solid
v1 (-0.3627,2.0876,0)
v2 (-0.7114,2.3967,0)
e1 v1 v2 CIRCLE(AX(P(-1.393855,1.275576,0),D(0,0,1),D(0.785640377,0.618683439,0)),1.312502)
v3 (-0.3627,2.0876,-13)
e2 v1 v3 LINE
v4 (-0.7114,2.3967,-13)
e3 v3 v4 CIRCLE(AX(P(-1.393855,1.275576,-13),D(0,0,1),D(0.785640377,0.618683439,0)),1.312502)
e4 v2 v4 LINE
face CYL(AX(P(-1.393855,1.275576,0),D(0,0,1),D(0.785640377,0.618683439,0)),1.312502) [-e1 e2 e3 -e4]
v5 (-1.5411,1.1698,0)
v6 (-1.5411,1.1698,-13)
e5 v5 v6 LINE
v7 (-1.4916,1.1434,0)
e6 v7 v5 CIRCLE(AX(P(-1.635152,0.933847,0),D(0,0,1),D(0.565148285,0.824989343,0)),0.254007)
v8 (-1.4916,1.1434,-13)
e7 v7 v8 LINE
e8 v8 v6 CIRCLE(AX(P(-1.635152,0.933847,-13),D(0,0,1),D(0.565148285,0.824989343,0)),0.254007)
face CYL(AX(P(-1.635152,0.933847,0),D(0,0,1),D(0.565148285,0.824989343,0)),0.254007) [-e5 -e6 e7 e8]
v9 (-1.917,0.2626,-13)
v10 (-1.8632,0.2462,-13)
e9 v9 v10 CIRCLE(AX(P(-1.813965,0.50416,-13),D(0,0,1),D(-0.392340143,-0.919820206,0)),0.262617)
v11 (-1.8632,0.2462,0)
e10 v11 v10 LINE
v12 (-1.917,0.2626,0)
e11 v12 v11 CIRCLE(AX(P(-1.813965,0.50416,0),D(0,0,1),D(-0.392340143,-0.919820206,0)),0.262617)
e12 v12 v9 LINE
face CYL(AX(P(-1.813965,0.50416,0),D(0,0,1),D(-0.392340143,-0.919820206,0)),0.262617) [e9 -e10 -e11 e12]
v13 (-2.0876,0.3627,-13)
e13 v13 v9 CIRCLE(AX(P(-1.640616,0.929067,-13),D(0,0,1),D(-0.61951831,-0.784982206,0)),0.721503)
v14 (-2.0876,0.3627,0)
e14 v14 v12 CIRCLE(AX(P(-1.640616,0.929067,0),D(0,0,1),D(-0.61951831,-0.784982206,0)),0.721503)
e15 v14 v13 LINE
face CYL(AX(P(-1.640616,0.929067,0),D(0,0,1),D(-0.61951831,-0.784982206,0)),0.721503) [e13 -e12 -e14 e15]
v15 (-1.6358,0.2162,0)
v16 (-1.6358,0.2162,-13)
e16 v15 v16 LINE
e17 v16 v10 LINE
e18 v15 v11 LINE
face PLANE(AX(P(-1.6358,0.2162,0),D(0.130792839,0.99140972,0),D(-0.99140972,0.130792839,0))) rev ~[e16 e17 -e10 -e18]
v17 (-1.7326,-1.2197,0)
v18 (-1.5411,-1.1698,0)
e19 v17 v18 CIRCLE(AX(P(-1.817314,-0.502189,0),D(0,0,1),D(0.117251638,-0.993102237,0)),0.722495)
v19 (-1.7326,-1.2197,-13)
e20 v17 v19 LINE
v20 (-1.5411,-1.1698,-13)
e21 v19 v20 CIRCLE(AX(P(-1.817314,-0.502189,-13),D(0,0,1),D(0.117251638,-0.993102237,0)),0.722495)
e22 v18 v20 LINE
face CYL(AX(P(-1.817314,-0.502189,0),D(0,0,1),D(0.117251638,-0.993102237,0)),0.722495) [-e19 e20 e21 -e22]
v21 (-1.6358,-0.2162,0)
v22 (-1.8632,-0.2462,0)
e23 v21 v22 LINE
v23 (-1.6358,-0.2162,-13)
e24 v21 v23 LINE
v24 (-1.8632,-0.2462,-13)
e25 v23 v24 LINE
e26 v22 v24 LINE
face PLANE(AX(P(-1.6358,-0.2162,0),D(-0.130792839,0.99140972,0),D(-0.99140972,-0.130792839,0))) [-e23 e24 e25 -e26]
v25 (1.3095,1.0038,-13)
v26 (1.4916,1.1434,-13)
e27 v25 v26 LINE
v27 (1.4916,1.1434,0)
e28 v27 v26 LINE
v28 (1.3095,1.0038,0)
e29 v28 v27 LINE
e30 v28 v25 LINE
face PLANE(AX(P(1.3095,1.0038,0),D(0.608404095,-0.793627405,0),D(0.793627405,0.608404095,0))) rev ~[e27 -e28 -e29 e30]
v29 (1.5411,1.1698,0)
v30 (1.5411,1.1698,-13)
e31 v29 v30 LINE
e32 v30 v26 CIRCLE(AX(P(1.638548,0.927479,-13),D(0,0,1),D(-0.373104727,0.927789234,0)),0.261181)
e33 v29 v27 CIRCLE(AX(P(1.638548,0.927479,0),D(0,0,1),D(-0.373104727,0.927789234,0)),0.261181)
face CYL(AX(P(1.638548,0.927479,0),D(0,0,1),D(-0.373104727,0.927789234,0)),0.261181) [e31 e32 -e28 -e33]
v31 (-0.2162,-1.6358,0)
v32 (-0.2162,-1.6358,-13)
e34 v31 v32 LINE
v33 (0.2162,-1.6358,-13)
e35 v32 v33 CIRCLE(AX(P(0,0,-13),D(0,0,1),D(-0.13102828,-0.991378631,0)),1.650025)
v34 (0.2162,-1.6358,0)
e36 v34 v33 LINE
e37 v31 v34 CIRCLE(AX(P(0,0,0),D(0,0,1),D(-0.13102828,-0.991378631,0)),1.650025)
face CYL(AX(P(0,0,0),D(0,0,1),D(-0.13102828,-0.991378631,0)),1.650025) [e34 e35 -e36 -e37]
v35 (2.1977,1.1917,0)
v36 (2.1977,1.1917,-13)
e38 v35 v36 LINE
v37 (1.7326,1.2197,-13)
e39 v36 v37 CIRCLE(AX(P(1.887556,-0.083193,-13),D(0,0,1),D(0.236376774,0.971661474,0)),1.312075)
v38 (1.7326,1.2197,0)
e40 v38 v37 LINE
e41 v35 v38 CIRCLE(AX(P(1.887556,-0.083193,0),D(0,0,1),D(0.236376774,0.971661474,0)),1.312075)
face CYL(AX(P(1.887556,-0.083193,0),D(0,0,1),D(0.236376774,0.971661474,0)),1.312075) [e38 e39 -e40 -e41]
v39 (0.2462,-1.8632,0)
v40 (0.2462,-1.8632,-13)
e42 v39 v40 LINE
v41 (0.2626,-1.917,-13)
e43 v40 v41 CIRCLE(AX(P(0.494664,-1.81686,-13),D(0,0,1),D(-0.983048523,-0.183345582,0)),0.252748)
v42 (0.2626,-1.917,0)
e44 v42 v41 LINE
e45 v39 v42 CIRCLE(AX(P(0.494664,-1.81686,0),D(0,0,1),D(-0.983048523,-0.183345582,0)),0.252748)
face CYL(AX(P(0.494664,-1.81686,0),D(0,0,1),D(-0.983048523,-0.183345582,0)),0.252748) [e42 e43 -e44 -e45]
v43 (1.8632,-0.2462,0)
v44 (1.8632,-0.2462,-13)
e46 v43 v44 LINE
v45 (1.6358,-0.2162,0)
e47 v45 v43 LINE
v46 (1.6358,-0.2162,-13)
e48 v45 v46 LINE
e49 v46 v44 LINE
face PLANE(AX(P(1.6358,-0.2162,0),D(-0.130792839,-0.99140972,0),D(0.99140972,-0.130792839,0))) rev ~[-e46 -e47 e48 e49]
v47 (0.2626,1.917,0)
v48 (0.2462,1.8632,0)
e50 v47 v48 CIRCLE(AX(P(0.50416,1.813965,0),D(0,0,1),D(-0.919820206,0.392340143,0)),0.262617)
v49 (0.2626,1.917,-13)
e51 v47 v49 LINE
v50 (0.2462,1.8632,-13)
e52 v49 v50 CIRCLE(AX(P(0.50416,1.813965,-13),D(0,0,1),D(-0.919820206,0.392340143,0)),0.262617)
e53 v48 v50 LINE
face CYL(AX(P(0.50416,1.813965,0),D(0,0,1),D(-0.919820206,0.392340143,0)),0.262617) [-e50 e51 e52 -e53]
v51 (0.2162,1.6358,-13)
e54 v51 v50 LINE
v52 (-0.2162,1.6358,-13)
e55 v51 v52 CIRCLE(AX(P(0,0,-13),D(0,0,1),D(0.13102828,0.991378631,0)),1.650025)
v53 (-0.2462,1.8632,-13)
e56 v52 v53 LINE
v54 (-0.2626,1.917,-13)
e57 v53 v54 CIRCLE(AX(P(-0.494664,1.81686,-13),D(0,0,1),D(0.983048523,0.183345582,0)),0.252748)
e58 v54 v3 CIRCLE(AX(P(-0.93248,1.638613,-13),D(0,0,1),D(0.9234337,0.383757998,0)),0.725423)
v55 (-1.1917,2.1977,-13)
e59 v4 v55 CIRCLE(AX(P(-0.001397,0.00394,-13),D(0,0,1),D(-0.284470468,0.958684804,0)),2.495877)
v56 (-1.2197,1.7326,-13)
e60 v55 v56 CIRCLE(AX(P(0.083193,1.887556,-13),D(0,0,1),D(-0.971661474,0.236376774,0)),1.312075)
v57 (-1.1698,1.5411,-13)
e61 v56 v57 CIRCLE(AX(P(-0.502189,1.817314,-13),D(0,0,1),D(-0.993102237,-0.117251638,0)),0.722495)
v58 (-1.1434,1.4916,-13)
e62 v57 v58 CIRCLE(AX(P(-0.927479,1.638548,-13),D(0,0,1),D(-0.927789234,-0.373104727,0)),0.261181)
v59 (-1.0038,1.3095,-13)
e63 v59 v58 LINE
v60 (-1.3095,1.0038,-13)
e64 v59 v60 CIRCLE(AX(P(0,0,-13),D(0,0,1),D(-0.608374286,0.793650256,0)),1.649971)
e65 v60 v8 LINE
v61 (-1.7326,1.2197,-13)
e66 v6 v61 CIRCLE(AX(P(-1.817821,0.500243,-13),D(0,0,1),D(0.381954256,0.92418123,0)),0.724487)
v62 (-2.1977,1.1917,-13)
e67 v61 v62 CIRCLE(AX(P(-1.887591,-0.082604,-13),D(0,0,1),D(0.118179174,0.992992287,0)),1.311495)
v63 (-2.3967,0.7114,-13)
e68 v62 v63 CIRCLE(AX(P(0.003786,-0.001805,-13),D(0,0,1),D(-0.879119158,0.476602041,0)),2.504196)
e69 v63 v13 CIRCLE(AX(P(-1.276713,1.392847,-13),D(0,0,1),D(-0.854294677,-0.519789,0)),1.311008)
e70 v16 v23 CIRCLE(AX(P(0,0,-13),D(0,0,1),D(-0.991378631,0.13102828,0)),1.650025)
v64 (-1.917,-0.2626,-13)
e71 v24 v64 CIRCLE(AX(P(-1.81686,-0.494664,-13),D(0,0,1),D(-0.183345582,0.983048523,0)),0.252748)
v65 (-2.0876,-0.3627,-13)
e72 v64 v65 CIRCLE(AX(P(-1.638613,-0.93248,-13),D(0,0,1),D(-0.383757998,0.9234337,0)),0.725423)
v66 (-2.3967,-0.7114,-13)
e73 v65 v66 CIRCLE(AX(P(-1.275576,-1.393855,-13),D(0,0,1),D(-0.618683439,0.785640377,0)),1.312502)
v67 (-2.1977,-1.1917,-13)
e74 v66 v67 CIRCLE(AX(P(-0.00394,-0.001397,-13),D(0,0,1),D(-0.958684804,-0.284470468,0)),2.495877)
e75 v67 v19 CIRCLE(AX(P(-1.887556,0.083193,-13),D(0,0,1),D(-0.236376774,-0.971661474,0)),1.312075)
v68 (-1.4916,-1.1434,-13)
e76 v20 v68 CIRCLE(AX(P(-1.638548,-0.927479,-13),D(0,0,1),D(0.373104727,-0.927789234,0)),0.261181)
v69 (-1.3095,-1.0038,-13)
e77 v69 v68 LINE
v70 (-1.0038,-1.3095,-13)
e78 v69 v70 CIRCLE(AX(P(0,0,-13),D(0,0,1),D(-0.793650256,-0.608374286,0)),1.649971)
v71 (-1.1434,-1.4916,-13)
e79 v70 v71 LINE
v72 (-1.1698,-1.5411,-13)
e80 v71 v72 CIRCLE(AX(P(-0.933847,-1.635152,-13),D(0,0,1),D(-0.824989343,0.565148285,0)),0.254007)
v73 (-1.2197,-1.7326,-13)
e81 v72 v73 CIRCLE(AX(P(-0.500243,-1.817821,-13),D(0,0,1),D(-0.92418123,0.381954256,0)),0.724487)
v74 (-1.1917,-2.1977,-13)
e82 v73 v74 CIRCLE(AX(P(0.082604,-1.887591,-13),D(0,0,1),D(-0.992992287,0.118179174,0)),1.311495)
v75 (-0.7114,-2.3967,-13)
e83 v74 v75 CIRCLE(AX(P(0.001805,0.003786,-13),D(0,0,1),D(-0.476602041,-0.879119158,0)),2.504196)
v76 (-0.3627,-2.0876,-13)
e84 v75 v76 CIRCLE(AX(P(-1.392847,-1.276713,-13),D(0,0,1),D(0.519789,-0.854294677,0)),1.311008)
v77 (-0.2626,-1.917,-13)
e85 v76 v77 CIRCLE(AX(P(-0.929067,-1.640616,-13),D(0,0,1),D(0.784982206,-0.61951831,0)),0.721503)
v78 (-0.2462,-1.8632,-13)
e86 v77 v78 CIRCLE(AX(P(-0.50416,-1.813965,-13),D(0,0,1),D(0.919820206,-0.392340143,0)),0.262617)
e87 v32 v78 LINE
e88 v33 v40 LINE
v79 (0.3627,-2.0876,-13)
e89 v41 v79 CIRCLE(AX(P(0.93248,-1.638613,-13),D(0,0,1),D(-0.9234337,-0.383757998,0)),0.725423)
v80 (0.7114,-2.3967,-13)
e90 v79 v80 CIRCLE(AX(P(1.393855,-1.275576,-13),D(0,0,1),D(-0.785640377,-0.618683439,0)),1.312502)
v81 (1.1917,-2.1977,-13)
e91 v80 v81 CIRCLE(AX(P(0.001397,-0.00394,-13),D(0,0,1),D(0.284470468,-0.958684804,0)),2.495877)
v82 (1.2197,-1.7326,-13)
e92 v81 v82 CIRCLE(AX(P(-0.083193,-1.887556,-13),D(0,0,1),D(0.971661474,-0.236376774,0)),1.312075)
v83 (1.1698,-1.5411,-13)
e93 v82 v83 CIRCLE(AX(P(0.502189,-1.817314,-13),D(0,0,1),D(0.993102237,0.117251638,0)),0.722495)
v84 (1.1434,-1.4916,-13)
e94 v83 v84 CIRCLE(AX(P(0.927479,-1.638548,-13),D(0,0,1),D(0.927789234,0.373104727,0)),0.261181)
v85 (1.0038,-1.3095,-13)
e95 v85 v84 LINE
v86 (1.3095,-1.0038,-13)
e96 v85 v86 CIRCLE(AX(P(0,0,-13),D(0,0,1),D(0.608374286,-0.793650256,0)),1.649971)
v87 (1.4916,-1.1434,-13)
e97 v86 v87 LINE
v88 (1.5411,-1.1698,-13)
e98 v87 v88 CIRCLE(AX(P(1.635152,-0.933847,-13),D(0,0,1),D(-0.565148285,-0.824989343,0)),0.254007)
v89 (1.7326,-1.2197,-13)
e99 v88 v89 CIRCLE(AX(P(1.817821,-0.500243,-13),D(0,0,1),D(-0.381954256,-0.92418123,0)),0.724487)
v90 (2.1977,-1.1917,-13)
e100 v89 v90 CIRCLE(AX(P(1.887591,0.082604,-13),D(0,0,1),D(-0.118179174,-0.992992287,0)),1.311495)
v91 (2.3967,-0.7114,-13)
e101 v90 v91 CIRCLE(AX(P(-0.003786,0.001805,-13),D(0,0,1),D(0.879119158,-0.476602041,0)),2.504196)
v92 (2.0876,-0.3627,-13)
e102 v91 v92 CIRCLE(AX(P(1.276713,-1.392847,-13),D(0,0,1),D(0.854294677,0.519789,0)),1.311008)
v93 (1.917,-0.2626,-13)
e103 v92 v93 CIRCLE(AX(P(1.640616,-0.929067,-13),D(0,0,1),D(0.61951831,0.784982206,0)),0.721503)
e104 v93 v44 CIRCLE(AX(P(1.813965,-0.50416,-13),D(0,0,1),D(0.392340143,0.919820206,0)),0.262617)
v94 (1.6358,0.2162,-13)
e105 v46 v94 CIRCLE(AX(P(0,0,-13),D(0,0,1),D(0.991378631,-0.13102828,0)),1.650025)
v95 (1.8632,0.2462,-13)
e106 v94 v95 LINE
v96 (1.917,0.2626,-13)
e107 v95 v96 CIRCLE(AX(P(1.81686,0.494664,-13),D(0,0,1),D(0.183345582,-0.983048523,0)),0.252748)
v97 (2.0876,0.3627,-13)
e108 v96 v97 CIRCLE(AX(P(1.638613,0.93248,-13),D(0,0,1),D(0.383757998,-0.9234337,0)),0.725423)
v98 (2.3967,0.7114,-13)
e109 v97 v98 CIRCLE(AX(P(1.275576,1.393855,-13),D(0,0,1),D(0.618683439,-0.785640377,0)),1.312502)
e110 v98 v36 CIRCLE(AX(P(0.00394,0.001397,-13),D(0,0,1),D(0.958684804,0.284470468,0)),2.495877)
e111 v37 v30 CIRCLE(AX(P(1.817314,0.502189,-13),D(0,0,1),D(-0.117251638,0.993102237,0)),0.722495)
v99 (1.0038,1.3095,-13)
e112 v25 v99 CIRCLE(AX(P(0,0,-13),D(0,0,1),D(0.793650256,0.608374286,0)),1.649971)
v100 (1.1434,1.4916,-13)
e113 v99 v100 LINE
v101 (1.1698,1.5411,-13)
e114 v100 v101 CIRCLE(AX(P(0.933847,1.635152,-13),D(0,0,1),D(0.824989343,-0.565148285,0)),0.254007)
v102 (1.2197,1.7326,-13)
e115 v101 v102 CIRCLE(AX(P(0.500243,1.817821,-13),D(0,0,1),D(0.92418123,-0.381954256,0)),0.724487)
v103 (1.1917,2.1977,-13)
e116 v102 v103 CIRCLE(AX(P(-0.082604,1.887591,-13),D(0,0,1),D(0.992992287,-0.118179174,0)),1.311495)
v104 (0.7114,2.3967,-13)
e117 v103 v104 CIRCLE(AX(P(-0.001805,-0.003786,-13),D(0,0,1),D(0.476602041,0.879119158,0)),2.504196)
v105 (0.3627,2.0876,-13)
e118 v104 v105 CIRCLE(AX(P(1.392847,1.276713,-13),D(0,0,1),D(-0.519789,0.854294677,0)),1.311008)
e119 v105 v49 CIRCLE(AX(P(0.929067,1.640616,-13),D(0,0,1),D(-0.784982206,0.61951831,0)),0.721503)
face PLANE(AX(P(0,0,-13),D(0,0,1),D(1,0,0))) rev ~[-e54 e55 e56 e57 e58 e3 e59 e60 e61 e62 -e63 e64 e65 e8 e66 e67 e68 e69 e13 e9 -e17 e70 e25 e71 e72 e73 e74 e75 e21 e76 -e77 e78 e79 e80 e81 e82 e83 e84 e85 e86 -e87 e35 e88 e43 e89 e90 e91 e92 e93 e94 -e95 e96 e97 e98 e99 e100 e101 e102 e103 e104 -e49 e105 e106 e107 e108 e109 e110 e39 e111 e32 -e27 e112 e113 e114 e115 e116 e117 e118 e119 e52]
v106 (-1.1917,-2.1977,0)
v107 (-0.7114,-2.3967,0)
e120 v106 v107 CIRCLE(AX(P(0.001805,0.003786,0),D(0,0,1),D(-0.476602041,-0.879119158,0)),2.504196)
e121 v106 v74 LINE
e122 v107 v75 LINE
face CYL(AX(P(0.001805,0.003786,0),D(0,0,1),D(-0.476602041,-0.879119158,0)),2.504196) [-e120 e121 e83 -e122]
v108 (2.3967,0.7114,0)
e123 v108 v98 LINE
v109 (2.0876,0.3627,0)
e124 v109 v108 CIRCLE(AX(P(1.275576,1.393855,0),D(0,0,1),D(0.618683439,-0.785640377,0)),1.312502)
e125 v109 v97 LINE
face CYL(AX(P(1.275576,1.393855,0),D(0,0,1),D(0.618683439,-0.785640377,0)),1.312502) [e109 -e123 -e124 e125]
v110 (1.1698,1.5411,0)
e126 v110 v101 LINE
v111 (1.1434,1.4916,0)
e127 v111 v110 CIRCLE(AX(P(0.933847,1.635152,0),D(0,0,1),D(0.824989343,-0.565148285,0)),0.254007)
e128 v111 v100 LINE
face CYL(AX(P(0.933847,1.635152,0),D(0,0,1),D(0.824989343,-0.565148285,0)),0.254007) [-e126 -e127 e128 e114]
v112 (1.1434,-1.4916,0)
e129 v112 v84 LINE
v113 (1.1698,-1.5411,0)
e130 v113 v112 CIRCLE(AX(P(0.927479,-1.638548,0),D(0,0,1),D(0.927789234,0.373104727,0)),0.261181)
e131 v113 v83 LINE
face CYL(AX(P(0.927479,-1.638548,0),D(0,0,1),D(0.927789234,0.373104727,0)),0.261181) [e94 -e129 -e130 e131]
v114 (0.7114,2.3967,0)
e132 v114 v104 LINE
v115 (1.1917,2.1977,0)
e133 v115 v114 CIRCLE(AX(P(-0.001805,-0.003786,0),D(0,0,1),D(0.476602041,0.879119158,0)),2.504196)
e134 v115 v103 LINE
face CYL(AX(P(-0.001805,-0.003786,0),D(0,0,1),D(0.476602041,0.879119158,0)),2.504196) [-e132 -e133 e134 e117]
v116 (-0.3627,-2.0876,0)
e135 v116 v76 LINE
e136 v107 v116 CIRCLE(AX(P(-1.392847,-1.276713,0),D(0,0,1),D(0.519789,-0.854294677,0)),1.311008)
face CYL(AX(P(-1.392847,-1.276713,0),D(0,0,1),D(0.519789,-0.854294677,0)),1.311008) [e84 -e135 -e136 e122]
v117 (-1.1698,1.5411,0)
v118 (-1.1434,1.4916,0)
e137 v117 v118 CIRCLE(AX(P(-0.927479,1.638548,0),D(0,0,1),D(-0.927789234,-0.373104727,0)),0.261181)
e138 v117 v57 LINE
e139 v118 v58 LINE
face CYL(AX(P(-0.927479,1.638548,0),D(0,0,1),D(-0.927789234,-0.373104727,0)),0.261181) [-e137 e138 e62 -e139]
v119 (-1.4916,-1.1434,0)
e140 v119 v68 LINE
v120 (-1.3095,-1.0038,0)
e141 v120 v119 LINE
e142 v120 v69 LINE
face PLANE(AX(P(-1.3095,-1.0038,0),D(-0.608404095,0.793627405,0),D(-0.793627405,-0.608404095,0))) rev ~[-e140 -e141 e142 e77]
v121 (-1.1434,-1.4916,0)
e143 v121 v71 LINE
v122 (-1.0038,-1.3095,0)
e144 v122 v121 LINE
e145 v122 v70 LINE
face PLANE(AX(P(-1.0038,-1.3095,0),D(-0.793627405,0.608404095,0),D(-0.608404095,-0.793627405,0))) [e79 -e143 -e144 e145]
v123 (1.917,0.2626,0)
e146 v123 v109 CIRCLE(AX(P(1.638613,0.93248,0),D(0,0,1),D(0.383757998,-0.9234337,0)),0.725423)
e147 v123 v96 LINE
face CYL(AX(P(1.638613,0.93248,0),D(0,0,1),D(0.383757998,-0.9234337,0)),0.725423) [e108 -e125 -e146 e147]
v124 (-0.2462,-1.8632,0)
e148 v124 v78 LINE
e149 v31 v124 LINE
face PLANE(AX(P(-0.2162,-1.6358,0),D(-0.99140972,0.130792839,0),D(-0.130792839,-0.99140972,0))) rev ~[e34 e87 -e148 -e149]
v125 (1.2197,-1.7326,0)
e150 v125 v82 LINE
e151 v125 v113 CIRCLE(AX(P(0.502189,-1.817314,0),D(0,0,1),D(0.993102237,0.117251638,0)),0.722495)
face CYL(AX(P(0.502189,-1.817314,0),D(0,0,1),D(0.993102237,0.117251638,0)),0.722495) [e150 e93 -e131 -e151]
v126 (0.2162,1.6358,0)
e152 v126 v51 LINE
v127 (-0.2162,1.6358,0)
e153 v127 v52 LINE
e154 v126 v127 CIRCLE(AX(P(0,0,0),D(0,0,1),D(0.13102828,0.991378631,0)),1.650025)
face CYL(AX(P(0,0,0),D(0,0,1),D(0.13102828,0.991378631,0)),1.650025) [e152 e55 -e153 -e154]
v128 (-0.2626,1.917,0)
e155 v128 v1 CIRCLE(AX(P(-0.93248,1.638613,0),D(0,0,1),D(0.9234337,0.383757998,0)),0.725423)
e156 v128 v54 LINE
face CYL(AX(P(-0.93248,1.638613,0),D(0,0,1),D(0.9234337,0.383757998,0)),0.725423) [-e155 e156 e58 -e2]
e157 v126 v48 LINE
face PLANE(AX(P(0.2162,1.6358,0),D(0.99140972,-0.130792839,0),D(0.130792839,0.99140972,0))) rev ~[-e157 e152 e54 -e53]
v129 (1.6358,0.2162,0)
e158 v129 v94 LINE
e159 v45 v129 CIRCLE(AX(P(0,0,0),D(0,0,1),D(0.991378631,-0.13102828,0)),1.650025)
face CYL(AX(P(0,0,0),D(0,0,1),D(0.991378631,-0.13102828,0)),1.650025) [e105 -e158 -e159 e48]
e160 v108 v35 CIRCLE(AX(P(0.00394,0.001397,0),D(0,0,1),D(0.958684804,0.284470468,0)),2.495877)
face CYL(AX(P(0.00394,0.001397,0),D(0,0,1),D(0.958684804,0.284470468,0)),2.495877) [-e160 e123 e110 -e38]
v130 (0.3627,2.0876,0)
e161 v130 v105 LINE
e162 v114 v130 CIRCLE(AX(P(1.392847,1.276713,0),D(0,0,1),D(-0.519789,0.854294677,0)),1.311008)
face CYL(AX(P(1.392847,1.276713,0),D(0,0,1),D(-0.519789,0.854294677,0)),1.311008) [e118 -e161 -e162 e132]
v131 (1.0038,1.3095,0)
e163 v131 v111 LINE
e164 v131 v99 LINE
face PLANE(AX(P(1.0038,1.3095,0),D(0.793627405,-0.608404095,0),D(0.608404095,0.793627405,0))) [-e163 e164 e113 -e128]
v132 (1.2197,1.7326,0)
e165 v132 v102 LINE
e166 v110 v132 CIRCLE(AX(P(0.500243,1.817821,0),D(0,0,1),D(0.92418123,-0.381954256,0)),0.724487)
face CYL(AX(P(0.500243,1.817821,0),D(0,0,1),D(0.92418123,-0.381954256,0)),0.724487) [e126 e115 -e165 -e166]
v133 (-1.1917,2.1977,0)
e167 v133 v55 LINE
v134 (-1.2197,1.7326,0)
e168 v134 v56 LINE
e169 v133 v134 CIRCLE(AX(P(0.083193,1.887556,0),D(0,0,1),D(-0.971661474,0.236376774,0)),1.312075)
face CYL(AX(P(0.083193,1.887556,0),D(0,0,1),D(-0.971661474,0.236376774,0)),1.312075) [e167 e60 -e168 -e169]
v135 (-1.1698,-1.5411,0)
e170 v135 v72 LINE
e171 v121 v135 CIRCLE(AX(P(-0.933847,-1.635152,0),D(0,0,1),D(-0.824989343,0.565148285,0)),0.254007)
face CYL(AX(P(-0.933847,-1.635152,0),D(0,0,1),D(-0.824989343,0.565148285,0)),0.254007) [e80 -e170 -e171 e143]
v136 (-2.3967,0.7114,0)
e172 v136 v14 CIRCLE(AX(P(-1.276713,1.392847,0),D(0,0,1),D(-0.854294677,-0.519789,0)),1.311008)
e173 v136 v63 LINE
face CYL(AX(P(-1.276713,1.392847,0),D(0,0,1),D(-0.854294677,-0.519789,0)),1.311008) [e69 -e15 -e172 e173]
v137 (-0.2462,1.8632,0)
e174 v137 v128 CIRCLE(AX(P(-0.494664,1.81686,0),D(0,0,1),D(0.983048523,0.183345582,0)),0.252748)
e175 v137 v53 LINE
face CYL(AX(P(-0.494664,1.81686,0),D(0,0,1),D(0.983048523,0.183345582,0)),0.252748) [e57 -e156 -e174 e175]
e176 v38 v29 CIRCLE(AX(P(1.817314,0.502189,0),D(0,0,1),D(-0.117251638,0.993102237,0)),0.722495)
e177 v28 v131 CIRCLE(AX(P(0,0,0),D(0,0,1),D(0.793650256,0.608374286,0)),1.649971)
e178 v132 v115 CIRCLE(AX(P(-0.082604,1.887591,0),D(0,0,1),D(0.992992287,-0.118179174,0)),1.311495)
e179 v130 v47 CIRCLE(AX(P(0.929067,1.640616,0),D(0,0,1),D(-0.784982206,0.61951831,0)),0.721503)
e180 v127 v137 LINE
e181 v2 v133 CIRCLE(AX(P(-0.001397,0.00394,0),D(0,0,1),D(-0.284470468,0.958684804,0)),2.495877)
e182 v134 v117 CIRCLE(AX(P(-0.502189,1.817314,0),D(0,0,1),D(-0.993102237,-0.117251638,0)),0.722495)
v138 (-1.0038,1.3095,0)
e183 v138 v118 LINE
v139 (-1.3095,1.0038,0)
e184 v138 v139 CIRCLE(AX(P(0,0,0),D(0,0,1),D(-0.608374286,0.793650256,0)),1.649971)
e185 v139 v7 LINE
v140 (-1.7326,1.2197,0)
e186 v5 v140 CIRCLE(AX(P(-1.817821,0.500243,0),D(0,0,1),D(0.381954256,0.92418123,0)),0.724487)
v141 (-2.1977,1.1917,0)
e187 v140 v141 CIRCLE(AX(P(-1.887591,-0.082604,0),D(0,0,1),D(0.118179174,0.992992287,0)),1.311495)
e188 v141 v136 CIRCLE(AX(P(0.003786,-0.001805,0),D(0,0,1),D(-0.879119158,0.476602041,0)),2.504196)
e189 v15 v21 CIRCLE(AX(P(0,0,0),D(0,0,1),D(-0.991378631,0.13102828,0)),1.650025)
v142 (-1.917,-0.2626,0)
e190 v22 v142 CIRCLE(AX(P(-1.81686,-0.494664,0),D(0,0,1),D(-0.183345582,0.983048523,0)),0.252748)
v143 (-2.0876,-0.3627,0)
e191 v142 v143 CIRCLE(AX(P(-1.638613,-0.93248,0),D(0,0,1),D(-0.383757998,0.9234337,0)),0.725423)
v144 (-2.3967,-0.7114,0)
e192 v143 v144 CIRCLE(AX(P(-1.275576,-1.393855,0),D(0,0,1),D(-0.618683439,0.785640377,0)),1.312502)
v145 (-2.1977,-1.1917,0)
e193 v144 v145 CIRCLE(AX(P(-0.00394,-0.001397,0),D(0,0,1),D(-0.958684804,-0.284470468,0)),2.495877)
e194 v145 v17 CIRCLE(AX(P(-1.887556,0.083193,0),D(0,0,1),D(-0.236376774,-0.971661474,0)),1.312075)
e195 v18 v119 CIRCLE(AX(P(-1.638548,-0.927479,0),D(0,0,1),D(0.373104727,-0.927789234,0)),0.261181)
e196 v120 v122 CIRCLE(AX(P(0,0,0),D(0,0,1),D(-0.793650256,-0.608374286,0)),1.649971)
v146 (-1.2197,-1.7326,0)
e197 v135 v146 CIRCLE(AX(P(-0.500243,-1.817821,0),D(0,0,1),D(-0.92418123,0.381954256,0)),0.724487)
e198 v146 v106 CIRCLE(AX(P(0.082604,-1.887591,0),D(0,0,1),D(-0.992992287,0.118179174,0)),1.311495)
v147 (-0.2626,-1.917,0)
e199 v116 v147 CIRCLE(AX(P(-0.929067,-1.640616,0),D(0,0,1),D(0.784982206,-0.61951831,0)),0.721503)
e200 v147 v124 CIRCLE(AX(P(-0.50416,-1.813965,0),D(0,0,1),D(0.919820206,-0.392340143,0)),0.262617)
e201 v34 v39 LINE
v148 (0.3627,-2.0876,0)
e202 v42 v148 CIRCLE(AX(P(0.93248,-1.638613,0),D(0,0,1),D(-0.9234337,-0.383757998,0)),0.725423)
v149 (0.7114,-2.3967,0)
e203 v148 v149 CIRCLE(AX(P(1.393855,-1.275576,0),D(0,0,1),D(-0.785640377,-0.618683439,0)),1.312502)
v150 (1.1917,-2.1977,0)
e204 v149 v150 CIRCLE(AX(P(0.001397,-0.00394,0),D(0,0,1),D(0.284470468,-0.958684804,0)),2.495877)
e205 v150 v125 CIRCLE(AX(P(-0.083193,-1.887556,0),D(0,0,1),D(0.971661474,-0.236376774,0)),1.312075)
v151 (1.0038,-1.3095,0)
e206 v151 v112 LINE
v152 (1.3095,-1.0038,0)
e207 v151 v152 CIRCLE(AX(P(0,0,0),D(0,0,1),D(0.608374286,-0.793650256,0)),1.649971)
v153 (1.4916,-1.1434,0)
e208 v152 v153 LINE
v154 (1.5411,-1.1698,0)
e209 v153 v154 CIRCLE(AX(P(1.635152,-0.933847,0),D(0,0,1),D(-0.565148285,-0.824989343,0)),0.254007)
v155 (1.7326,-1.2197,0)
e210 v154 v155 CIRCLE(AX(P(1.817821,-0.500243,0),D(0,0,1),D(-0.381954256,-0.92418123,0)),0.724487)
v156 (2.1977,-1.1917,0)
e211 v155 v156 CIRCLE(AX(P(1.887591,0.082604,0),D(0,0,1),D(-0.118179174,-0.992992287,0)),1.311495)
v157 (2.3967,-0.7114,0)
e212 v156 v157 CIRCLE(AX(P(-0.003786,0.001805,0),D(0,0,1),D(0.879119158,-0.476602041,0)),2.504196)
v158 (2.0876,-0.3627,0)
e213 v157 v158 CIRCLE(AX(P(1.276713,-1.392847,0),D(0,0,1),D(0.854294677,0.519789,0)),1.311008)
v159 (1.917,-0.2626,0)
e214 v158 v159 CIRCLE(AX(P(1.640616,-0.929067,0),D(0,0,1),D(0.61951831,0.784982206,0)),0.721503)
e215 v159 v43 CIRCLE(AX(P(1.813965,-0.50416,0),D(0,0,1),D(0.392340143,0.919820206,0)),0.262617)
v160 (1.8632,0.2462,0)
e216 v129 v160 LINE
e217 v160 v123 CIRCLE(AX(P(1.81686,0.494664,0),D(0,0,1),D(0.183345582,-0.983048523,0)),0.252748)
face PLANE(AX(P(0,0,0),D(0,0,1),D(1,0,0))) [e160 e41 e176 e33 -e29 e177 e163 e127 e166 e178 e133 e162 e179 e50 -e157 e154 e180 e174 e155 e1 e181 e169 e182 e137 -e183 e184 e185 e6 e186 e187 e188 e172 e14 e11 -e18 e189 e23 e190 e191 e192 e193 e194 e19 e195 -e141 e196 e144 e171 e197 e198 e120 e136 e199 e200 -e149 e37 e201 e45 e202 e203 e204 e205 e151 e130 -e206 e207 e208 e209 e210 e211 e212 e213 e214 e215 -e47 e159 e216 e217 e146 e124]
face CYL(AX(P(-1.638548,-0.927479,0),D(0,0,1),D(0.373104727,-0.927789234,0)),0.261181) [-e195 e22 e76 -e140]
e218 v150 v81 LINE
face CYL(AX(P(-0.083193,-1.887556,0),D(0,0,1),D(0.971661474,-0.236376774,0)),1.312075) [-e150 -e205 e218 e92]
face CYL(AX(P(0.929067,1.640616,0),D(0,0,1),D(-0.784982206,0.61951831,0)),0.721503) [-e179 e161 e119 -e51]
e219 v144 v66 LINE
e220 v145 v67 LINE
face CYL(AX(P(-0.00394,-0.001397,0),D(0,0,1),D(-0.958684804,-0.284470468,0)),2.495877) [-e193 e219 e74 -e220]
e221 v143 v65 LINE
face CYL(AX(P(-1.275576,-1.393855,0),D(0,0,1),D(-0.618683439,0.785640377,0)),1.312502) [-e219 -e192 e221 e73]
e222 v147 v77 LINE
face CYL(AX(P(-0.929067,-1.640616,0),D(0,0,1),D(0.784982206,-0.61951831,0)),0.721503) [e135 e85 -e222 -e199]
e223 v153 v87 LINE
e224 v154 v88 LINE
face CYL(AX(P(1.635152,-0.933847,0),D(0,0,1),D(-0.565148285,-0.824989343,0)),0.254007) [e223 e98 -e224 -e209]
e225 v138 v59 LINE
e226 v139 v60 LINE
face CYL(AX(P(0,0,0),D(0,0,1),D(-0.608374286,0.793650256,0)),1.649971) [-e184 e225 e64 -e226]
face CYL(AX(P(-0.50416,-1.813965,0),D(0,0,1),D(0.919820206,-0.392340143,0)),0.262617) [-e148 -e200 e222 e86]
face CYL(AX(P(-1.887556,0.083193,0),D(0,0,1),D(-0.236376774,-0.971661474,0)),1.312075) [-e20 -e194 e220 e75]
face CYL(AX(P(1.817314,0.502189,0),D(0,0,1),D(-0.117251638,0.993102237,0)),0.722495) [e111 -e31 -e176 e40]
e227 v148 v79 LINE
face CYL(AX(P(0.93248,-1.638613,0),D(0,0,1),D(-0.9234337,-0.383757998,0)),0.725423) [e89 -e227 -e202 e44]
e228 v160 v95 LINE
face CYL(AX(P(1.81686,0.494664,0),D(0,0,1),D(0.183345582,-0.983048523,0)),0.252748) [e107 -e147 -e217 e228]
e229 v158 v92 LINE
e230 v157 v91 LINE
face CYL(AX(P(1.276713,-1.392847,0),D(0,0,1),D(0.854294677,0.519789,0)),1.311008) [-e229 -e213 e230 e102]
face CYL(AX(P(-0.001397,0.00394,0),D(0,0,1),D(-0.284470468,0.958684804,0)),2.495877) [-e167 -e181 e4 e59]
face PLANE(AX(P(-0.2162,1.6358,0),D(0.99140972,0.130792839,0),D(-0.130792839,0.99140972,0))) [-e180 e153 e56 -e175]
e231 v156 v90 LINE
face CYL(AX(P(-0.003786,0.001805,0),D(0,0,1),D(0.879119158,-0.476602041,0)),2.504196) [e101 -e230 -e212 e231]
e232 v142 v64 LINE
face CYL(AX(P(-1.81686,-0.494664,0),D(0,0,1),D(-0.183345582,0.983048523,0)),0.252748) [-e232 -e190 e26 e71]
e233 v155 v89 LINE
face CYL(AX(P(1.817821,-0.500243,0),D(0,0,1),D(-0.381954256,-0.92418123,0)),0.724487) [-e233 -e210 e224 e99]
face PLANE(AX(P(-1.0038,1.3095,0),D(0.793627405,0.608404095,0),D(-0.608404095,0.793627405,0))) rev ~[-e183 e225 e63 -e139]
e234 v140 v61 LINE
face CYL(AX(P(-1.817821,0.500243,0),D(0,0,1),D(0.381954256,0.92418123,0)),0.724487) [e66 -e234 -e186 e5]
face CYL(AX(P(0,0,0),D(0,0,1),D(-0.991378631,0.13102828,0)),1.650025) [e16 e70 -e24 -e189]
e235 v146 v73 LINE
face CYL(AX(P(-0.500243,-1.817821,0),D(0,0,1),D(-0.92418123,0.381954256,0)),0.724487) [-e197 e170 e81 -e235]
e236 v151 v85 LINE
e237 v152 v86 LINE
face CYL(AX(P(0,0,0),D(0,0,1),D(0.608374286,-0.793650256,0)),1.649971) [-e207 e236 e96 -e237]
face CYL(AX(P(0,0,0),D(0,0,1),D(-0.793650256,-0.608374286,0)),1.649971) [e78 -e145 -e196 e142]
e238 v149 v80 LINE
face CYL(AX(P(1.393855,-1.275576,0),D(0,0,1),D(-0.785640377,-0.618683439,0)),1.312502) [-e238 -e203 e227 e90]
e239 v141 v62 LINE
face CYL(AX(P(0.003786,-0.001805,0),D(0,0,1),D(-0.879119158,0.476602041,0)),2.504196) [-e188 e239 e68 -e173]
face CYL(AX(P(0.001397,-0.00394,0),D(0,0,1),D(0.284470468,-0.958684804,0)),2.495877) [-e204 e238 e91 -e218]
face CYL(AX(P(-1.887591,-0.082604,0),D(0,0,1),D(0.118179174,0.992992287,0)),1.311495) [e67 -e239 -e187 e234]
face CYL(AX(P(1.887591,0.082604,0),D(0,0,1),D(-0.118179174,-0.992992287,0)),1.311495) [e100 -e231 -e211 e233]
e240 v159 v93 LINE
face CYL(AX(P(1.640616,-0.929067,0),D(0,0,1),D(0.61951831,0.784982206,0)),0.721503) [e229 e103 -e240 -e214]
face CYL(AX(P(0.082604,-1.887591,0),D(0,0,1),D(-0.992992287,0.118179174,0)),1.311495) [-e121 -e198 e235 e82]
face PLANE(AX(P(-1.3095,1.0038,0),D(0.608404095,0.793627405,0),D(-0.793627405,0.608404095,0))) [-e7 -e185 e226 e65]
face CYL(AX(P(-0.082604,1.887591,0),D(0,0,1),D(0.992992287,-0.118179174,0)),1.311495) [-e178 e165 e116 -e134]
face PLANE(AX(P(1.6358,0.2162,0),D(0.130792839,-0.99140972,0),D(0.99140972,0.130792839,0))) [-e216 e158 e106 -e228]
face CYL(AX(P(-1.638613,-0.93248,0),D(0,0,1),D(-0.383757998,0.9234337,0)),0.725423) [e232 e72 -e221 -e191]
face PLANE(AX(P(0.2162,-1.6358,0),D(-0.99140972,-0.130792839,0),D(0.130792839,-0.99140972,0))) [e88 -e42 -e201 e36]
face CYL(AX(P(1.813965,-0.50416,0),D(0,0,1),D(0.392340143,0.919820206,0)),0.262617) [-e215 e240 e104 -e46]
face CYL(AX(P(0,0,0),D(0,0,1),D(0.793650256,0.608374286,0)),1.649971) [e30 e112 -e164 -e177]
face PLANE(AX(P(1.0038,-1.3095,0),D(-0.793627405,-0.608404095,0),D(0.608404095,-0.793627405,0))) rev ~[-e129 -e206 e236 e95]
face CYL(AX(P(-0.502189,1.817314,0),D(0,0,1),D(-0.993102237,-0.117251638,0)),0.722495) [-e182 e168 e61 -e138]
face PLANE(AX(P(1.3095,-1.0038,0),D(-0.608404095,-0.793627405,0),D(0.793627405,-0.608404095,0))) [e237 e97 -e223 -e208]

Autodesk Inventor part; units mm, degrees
ref_plane "YZ Plane" through (0, 0, 0) normal (1, 0, 0) x (0, 1, 0)
ref_plane "XZ Plane" through (0, 0, 0) normal (0, 1, 0) x (-1, 0, 0)
ref_plane "XY Plane" through (0, 0, 0) normal (0, 0, 1) x (1, 0, 0)
sketch "Sketch1" plane through (0, 0, 0) normal (0, 0, 1) x (1, 0, 0)
  arc A0 (0.2626, 1.917) -> (0.2462, 1.8632) centre (0.4994, 1.8157) ccw
  arc A1 (0.3627, 2.0876) -> (0.2626, 1.917) centre (0.9307, 1.6395) ccw
  arc A2 (0.7114, 2.3967) -> (0.3627, 2.0876) centre (1.3933, 1.2761) ccw
  arc A3 (-1.1698, 1.5411) -> (-1.1434, 1.4916) centre (-0.9308, 1.637) ccw
  arc A4 (-1.2197, 1.7326) -> (-1.1698, 1.5411) centre (-0.5012, 1.8175) ccw
  arc A5 (-1.1917, 2.1977) -> (-1.2197, 1.7326) centre (0.0829, 1.8876) ccw
  arc A6 (-1.917, 0.2626) -> (-1.8632, 0.2462) centre (-1.8157, 0.4994) ccw
  arc A7 (-2.0876, 0.3627) -> (-1.917, 0.2626) centre (-1.6395, 0.9307) ccw
  arc A8 (-2.3967, 0.7114) -> (-2.0876, 0.3627) centre (-1.2761, 1.3933) ccw
  arc A9 (-1.5411, -1.1698) -> (-1.4916, -1.1434) centre (-1.637, -0.9308) ccw
  arc A10 (-1.7326, -1.2197) -> (-1.5411, -1.1698) centre (-1.8175, -0.5012) ccw
  arc A11 (-2.1977, -1.1917) -> (-1.7326, -1.2197) centre (-1.8876, 0.0829) ccw
  arc A12 (-0.2626, -1.917) -> (-0.2462, -1.8632) centre (-0.4994, -1.8157) ccw
  arc A13 (-0.3627, -2.0876) -> (-0.2626, -1.917) centre (-0.9307, -1.6395) ccw
  arc A14 (-0.7114, -2.3967) -> (-0.3627, -2.0876) centre (-1.3933, -1.2761) ccw
  arc A15 (1.1698, -1.5411) -> (1.1434, -1.4916) centre (0.9308, -1.637) ccw
  arc A16 (1.2197, -1.7326) -> (1.1698, -1.5411) centre (0.5012, -1.8175) ccw
  arc A17 (1.1917, -2.1977) -> (1.2197, -1.7326) centre (-0.0829, -1.8876) ccw
  arc A18 (1.917, -0.2626) -> (1.8632, -0.2462) centre (1.8157, -0.4994) ccw
  arc A19 (2.0876, -0.3627) -> (1.917, -0.2626) centre (1.6395, -0.9307) ccw
  arc A20 (2.3967, -0.7114) -> (2.0876, -0.3627) centre (1.2761, -1.3933) ccw
  arc A21 (1.5411, 1.1698) -> (1.4916, 1.1434) centre (1.637, 0.9308) ccw
  arc A22 (1.7326, 1.2197) -> (1.5411, 1.1698) centre (1.8175, 0.5012) ccw
  arc A23 (2.1977, 1.1917) -> (1.7326, 1.2197) centre (1.8876, -0.0829) ccw
  arc A24 (-0.2462, 1.8632) -> (-0.2626, 1.917) centre (-0.4994, 1.8157) ccw
  arc A25 (-0.2626, 1.917) -> (-0.3627, 2.0876) centre (-0.9307, 1.6395) ccw
  arc A26 (-0.3627, 2.0876) -> (-0.7114, 2.3967) centre (-1.3933, 1.2761) ccw
  arc A27 (-1.4916, 1.1434) -> (-1.5411, 1.1698) centre (-1.637, 0.9308) ccw
  arc A28 (-1.5411, 1.1698) -> (-1.7326, 1.2197) centre (-1.8175, 0.5012) ccw
  arc A29 (-1.7326, 1.2197) -> (-2.1977, 1.1917) centre (-1.8876, -0.0829) ccw
  arc A30 (-1.8632, -0.2462) -> (-1.917, -0.2626) centre (-1.8157, -0.4994) ccw
  arc A31 (-1.917, -0.2626) -> (-2.0876, -0.3627) centre (-1.6395, -0.9307) ccw
  arc A32 (-2.0876, -0.3627) -> (-2.3967, -0.7114) centre (-1.2761, -1.3933) ccw
  arc A33 (-1.1434, -1.4916) -> (-1.1698, -1.5411) centre (-0.9308, -1.637) ccw
  arc A34 (-1.1698, -1.5411) -> (-1.2197, -1.7326) centre (-0.5012, -1.8175) ccw
  arc A35 (-1.2197, -1.7326) -> (-1.1917, -2.1977) centre (0.0829, -1.8876) ccw
  arc A36 (0.2462, -1.8632) -> (0.2626, -1.917) centre (0.4994, -1.8157) ccw
  arc A37 (0.2626, -1.917) -> (0.3627, -2.0876) centre (0.9307, -1.6395) ccw
  arc A38 (0.3627, -2.0876) -> (0.7114, -2.3967) centre (1.3933, -1.2761) ccw
  arc A39 (1.4916, -1.1434) -> (1.5411, -1.1698) centre (1.637, -0.9308) ccw
  arc A40 (1.5411, -1.1698) -> (1.7326, -1.2197) centre (1.8175, -0.5012) ccw
  arc A41 (1.7326, -1.2197) -> (2.1977, -1.1917) centre (1.8876, 0.0829) ccw
  arc A42 (1.8632, 0.2462) -> (1.917, 0.2626) centre (1.8157, 0.4994) ccw
  arc A43 (1.917, 0.2626) -> (2.0876, 0.3627) centre (1.6395, 0.9307) ccw
  arc A44 (2.0876, 0.3627) -> (2.3967, 0.7114) centre (1.2761, 1.3933) ccw
  arc A45 (1.1434, 1.4916) -> (1.1698, 1.5411) centre (0.9308, 1.637) ccw
  arc A46 (1.1698, 1.5411) -> (1.2197, 1.7326) centre (0.5012, 1.8175) ccw
  arc A47 (1.2197, 1.7326) -> (1.1917, 2.1977) centre (-0.0829, 1.8876) ccw
  arc A48 (0.2162, 1.6358) -> (-0.2162, 1.6358) centre (0, 0) ccw
  arc A49 (-1.0038, 1.3095) -> (-1.3095, 1.0038) centre (0, 0) ccw
  arc A50 (-1.6358, 0.2162) -> (-1.6358, -0.2162) centre (0, 0) ccw
  arc A51 (-1.3095, -1.0038) -> (-1.0038, -1.3095) centre (0, 0) ccw
  arc A52 (-0.2162, -1.6358) -> (0.2162, -1.6358) centre (0, 0) ccw
  arc A53 (1.0038, -1.3095) -> (1.3095, -1.0038) centre (0, 0) ccw
  arc A54 (1.6358, -0.2162) -> (1.6358, 0.2162) centre (0, 0) ccw
  arc A55 (1.3095, 1.0038) -> (1.0038, 1.3095) centre (0, 0) ccw
  arc A56 (-0.7114, 2.3967) -> (-1.1917, 2.1977) centre (0, 0) ccw
  arc A57 (-2.1977, 1.1917) -> (-2.3967, 0.7114) centre (0, 0) ccw
  arc A58 (-2.3967, -0.7114) -> (-2.1977, -1.1917) centre (0, 0) ccw
  arc A59 (-1.1917, -2.1977) -> (-0.7114, -2.3967) centre (0, 0) ccw
  arc A60 (0.7114, -2.3967) -> (1.1917, -2.1977) centre (0, 0) ccw
  arc A61 (2.1977, -1.1917) -> (2.3967, -0.7114) centre (0, 0) ccw
  arc A62 (2.3967, 0.7114) -> (2.1977, 1.1917) centre (0, 0) ccw
  arc A63 (1.1917, 2.1977) -> (0.7114, 2.3967) centre (0, 0) ccw
  line L0 (0.2162, 1.6358) -> (0.2462, 1.8632)
  line L1 (-1.0038, 1.3095) -> (-1.1434, 1.4916)
  line L2 (-1.6358, 0.2162) -> (-1.8632, 0.2462)
  line L3 (-1.3095, -1.0038) -> (-1.4916, -1.1434)
  line L4 (-0.2162, -1.6358) -> (-0.2462, -1.8632)
  line L5 (1.0038, -1.3095) -> (1.1434, -1.4916)
  line L6 (1.6358, -0.2162) -> (1.8632, -0.2462)
  line L7 (1.3095, 1.0038) -> (1.4916, 1.1434)
  line L8 (-0.2162, 1.6358) -> (-0.2462, 1.8632)
  line L9 (-1.3095, 1.0038) -> (-1.4916, 1.1434)
  line L10 (-1.6358, -0.2162) -> (-1.8632, -0.2462)
  line L11 (-1.0038, -1.3095) -> (-1.1434, -1.4916)
  line L12 (0.2162, -1.6358) -> (0.2462, -1.8632)
  line L13 (1.3095, -1.0038) -> (1.4916, -1.1434)
  line L14 (1.6358, 0.2162) -> (1.8632, 0.2462)
  line L15 (1.0038, 1.3095) -> (1.1434, 1.4916)
  point P0 (0, 0)
extrude "Extrusion1" add sketch "Sketch1" against normal blind 13
properties part number "ぴにょん歯数7" material "Aluminum 2014-T6"
